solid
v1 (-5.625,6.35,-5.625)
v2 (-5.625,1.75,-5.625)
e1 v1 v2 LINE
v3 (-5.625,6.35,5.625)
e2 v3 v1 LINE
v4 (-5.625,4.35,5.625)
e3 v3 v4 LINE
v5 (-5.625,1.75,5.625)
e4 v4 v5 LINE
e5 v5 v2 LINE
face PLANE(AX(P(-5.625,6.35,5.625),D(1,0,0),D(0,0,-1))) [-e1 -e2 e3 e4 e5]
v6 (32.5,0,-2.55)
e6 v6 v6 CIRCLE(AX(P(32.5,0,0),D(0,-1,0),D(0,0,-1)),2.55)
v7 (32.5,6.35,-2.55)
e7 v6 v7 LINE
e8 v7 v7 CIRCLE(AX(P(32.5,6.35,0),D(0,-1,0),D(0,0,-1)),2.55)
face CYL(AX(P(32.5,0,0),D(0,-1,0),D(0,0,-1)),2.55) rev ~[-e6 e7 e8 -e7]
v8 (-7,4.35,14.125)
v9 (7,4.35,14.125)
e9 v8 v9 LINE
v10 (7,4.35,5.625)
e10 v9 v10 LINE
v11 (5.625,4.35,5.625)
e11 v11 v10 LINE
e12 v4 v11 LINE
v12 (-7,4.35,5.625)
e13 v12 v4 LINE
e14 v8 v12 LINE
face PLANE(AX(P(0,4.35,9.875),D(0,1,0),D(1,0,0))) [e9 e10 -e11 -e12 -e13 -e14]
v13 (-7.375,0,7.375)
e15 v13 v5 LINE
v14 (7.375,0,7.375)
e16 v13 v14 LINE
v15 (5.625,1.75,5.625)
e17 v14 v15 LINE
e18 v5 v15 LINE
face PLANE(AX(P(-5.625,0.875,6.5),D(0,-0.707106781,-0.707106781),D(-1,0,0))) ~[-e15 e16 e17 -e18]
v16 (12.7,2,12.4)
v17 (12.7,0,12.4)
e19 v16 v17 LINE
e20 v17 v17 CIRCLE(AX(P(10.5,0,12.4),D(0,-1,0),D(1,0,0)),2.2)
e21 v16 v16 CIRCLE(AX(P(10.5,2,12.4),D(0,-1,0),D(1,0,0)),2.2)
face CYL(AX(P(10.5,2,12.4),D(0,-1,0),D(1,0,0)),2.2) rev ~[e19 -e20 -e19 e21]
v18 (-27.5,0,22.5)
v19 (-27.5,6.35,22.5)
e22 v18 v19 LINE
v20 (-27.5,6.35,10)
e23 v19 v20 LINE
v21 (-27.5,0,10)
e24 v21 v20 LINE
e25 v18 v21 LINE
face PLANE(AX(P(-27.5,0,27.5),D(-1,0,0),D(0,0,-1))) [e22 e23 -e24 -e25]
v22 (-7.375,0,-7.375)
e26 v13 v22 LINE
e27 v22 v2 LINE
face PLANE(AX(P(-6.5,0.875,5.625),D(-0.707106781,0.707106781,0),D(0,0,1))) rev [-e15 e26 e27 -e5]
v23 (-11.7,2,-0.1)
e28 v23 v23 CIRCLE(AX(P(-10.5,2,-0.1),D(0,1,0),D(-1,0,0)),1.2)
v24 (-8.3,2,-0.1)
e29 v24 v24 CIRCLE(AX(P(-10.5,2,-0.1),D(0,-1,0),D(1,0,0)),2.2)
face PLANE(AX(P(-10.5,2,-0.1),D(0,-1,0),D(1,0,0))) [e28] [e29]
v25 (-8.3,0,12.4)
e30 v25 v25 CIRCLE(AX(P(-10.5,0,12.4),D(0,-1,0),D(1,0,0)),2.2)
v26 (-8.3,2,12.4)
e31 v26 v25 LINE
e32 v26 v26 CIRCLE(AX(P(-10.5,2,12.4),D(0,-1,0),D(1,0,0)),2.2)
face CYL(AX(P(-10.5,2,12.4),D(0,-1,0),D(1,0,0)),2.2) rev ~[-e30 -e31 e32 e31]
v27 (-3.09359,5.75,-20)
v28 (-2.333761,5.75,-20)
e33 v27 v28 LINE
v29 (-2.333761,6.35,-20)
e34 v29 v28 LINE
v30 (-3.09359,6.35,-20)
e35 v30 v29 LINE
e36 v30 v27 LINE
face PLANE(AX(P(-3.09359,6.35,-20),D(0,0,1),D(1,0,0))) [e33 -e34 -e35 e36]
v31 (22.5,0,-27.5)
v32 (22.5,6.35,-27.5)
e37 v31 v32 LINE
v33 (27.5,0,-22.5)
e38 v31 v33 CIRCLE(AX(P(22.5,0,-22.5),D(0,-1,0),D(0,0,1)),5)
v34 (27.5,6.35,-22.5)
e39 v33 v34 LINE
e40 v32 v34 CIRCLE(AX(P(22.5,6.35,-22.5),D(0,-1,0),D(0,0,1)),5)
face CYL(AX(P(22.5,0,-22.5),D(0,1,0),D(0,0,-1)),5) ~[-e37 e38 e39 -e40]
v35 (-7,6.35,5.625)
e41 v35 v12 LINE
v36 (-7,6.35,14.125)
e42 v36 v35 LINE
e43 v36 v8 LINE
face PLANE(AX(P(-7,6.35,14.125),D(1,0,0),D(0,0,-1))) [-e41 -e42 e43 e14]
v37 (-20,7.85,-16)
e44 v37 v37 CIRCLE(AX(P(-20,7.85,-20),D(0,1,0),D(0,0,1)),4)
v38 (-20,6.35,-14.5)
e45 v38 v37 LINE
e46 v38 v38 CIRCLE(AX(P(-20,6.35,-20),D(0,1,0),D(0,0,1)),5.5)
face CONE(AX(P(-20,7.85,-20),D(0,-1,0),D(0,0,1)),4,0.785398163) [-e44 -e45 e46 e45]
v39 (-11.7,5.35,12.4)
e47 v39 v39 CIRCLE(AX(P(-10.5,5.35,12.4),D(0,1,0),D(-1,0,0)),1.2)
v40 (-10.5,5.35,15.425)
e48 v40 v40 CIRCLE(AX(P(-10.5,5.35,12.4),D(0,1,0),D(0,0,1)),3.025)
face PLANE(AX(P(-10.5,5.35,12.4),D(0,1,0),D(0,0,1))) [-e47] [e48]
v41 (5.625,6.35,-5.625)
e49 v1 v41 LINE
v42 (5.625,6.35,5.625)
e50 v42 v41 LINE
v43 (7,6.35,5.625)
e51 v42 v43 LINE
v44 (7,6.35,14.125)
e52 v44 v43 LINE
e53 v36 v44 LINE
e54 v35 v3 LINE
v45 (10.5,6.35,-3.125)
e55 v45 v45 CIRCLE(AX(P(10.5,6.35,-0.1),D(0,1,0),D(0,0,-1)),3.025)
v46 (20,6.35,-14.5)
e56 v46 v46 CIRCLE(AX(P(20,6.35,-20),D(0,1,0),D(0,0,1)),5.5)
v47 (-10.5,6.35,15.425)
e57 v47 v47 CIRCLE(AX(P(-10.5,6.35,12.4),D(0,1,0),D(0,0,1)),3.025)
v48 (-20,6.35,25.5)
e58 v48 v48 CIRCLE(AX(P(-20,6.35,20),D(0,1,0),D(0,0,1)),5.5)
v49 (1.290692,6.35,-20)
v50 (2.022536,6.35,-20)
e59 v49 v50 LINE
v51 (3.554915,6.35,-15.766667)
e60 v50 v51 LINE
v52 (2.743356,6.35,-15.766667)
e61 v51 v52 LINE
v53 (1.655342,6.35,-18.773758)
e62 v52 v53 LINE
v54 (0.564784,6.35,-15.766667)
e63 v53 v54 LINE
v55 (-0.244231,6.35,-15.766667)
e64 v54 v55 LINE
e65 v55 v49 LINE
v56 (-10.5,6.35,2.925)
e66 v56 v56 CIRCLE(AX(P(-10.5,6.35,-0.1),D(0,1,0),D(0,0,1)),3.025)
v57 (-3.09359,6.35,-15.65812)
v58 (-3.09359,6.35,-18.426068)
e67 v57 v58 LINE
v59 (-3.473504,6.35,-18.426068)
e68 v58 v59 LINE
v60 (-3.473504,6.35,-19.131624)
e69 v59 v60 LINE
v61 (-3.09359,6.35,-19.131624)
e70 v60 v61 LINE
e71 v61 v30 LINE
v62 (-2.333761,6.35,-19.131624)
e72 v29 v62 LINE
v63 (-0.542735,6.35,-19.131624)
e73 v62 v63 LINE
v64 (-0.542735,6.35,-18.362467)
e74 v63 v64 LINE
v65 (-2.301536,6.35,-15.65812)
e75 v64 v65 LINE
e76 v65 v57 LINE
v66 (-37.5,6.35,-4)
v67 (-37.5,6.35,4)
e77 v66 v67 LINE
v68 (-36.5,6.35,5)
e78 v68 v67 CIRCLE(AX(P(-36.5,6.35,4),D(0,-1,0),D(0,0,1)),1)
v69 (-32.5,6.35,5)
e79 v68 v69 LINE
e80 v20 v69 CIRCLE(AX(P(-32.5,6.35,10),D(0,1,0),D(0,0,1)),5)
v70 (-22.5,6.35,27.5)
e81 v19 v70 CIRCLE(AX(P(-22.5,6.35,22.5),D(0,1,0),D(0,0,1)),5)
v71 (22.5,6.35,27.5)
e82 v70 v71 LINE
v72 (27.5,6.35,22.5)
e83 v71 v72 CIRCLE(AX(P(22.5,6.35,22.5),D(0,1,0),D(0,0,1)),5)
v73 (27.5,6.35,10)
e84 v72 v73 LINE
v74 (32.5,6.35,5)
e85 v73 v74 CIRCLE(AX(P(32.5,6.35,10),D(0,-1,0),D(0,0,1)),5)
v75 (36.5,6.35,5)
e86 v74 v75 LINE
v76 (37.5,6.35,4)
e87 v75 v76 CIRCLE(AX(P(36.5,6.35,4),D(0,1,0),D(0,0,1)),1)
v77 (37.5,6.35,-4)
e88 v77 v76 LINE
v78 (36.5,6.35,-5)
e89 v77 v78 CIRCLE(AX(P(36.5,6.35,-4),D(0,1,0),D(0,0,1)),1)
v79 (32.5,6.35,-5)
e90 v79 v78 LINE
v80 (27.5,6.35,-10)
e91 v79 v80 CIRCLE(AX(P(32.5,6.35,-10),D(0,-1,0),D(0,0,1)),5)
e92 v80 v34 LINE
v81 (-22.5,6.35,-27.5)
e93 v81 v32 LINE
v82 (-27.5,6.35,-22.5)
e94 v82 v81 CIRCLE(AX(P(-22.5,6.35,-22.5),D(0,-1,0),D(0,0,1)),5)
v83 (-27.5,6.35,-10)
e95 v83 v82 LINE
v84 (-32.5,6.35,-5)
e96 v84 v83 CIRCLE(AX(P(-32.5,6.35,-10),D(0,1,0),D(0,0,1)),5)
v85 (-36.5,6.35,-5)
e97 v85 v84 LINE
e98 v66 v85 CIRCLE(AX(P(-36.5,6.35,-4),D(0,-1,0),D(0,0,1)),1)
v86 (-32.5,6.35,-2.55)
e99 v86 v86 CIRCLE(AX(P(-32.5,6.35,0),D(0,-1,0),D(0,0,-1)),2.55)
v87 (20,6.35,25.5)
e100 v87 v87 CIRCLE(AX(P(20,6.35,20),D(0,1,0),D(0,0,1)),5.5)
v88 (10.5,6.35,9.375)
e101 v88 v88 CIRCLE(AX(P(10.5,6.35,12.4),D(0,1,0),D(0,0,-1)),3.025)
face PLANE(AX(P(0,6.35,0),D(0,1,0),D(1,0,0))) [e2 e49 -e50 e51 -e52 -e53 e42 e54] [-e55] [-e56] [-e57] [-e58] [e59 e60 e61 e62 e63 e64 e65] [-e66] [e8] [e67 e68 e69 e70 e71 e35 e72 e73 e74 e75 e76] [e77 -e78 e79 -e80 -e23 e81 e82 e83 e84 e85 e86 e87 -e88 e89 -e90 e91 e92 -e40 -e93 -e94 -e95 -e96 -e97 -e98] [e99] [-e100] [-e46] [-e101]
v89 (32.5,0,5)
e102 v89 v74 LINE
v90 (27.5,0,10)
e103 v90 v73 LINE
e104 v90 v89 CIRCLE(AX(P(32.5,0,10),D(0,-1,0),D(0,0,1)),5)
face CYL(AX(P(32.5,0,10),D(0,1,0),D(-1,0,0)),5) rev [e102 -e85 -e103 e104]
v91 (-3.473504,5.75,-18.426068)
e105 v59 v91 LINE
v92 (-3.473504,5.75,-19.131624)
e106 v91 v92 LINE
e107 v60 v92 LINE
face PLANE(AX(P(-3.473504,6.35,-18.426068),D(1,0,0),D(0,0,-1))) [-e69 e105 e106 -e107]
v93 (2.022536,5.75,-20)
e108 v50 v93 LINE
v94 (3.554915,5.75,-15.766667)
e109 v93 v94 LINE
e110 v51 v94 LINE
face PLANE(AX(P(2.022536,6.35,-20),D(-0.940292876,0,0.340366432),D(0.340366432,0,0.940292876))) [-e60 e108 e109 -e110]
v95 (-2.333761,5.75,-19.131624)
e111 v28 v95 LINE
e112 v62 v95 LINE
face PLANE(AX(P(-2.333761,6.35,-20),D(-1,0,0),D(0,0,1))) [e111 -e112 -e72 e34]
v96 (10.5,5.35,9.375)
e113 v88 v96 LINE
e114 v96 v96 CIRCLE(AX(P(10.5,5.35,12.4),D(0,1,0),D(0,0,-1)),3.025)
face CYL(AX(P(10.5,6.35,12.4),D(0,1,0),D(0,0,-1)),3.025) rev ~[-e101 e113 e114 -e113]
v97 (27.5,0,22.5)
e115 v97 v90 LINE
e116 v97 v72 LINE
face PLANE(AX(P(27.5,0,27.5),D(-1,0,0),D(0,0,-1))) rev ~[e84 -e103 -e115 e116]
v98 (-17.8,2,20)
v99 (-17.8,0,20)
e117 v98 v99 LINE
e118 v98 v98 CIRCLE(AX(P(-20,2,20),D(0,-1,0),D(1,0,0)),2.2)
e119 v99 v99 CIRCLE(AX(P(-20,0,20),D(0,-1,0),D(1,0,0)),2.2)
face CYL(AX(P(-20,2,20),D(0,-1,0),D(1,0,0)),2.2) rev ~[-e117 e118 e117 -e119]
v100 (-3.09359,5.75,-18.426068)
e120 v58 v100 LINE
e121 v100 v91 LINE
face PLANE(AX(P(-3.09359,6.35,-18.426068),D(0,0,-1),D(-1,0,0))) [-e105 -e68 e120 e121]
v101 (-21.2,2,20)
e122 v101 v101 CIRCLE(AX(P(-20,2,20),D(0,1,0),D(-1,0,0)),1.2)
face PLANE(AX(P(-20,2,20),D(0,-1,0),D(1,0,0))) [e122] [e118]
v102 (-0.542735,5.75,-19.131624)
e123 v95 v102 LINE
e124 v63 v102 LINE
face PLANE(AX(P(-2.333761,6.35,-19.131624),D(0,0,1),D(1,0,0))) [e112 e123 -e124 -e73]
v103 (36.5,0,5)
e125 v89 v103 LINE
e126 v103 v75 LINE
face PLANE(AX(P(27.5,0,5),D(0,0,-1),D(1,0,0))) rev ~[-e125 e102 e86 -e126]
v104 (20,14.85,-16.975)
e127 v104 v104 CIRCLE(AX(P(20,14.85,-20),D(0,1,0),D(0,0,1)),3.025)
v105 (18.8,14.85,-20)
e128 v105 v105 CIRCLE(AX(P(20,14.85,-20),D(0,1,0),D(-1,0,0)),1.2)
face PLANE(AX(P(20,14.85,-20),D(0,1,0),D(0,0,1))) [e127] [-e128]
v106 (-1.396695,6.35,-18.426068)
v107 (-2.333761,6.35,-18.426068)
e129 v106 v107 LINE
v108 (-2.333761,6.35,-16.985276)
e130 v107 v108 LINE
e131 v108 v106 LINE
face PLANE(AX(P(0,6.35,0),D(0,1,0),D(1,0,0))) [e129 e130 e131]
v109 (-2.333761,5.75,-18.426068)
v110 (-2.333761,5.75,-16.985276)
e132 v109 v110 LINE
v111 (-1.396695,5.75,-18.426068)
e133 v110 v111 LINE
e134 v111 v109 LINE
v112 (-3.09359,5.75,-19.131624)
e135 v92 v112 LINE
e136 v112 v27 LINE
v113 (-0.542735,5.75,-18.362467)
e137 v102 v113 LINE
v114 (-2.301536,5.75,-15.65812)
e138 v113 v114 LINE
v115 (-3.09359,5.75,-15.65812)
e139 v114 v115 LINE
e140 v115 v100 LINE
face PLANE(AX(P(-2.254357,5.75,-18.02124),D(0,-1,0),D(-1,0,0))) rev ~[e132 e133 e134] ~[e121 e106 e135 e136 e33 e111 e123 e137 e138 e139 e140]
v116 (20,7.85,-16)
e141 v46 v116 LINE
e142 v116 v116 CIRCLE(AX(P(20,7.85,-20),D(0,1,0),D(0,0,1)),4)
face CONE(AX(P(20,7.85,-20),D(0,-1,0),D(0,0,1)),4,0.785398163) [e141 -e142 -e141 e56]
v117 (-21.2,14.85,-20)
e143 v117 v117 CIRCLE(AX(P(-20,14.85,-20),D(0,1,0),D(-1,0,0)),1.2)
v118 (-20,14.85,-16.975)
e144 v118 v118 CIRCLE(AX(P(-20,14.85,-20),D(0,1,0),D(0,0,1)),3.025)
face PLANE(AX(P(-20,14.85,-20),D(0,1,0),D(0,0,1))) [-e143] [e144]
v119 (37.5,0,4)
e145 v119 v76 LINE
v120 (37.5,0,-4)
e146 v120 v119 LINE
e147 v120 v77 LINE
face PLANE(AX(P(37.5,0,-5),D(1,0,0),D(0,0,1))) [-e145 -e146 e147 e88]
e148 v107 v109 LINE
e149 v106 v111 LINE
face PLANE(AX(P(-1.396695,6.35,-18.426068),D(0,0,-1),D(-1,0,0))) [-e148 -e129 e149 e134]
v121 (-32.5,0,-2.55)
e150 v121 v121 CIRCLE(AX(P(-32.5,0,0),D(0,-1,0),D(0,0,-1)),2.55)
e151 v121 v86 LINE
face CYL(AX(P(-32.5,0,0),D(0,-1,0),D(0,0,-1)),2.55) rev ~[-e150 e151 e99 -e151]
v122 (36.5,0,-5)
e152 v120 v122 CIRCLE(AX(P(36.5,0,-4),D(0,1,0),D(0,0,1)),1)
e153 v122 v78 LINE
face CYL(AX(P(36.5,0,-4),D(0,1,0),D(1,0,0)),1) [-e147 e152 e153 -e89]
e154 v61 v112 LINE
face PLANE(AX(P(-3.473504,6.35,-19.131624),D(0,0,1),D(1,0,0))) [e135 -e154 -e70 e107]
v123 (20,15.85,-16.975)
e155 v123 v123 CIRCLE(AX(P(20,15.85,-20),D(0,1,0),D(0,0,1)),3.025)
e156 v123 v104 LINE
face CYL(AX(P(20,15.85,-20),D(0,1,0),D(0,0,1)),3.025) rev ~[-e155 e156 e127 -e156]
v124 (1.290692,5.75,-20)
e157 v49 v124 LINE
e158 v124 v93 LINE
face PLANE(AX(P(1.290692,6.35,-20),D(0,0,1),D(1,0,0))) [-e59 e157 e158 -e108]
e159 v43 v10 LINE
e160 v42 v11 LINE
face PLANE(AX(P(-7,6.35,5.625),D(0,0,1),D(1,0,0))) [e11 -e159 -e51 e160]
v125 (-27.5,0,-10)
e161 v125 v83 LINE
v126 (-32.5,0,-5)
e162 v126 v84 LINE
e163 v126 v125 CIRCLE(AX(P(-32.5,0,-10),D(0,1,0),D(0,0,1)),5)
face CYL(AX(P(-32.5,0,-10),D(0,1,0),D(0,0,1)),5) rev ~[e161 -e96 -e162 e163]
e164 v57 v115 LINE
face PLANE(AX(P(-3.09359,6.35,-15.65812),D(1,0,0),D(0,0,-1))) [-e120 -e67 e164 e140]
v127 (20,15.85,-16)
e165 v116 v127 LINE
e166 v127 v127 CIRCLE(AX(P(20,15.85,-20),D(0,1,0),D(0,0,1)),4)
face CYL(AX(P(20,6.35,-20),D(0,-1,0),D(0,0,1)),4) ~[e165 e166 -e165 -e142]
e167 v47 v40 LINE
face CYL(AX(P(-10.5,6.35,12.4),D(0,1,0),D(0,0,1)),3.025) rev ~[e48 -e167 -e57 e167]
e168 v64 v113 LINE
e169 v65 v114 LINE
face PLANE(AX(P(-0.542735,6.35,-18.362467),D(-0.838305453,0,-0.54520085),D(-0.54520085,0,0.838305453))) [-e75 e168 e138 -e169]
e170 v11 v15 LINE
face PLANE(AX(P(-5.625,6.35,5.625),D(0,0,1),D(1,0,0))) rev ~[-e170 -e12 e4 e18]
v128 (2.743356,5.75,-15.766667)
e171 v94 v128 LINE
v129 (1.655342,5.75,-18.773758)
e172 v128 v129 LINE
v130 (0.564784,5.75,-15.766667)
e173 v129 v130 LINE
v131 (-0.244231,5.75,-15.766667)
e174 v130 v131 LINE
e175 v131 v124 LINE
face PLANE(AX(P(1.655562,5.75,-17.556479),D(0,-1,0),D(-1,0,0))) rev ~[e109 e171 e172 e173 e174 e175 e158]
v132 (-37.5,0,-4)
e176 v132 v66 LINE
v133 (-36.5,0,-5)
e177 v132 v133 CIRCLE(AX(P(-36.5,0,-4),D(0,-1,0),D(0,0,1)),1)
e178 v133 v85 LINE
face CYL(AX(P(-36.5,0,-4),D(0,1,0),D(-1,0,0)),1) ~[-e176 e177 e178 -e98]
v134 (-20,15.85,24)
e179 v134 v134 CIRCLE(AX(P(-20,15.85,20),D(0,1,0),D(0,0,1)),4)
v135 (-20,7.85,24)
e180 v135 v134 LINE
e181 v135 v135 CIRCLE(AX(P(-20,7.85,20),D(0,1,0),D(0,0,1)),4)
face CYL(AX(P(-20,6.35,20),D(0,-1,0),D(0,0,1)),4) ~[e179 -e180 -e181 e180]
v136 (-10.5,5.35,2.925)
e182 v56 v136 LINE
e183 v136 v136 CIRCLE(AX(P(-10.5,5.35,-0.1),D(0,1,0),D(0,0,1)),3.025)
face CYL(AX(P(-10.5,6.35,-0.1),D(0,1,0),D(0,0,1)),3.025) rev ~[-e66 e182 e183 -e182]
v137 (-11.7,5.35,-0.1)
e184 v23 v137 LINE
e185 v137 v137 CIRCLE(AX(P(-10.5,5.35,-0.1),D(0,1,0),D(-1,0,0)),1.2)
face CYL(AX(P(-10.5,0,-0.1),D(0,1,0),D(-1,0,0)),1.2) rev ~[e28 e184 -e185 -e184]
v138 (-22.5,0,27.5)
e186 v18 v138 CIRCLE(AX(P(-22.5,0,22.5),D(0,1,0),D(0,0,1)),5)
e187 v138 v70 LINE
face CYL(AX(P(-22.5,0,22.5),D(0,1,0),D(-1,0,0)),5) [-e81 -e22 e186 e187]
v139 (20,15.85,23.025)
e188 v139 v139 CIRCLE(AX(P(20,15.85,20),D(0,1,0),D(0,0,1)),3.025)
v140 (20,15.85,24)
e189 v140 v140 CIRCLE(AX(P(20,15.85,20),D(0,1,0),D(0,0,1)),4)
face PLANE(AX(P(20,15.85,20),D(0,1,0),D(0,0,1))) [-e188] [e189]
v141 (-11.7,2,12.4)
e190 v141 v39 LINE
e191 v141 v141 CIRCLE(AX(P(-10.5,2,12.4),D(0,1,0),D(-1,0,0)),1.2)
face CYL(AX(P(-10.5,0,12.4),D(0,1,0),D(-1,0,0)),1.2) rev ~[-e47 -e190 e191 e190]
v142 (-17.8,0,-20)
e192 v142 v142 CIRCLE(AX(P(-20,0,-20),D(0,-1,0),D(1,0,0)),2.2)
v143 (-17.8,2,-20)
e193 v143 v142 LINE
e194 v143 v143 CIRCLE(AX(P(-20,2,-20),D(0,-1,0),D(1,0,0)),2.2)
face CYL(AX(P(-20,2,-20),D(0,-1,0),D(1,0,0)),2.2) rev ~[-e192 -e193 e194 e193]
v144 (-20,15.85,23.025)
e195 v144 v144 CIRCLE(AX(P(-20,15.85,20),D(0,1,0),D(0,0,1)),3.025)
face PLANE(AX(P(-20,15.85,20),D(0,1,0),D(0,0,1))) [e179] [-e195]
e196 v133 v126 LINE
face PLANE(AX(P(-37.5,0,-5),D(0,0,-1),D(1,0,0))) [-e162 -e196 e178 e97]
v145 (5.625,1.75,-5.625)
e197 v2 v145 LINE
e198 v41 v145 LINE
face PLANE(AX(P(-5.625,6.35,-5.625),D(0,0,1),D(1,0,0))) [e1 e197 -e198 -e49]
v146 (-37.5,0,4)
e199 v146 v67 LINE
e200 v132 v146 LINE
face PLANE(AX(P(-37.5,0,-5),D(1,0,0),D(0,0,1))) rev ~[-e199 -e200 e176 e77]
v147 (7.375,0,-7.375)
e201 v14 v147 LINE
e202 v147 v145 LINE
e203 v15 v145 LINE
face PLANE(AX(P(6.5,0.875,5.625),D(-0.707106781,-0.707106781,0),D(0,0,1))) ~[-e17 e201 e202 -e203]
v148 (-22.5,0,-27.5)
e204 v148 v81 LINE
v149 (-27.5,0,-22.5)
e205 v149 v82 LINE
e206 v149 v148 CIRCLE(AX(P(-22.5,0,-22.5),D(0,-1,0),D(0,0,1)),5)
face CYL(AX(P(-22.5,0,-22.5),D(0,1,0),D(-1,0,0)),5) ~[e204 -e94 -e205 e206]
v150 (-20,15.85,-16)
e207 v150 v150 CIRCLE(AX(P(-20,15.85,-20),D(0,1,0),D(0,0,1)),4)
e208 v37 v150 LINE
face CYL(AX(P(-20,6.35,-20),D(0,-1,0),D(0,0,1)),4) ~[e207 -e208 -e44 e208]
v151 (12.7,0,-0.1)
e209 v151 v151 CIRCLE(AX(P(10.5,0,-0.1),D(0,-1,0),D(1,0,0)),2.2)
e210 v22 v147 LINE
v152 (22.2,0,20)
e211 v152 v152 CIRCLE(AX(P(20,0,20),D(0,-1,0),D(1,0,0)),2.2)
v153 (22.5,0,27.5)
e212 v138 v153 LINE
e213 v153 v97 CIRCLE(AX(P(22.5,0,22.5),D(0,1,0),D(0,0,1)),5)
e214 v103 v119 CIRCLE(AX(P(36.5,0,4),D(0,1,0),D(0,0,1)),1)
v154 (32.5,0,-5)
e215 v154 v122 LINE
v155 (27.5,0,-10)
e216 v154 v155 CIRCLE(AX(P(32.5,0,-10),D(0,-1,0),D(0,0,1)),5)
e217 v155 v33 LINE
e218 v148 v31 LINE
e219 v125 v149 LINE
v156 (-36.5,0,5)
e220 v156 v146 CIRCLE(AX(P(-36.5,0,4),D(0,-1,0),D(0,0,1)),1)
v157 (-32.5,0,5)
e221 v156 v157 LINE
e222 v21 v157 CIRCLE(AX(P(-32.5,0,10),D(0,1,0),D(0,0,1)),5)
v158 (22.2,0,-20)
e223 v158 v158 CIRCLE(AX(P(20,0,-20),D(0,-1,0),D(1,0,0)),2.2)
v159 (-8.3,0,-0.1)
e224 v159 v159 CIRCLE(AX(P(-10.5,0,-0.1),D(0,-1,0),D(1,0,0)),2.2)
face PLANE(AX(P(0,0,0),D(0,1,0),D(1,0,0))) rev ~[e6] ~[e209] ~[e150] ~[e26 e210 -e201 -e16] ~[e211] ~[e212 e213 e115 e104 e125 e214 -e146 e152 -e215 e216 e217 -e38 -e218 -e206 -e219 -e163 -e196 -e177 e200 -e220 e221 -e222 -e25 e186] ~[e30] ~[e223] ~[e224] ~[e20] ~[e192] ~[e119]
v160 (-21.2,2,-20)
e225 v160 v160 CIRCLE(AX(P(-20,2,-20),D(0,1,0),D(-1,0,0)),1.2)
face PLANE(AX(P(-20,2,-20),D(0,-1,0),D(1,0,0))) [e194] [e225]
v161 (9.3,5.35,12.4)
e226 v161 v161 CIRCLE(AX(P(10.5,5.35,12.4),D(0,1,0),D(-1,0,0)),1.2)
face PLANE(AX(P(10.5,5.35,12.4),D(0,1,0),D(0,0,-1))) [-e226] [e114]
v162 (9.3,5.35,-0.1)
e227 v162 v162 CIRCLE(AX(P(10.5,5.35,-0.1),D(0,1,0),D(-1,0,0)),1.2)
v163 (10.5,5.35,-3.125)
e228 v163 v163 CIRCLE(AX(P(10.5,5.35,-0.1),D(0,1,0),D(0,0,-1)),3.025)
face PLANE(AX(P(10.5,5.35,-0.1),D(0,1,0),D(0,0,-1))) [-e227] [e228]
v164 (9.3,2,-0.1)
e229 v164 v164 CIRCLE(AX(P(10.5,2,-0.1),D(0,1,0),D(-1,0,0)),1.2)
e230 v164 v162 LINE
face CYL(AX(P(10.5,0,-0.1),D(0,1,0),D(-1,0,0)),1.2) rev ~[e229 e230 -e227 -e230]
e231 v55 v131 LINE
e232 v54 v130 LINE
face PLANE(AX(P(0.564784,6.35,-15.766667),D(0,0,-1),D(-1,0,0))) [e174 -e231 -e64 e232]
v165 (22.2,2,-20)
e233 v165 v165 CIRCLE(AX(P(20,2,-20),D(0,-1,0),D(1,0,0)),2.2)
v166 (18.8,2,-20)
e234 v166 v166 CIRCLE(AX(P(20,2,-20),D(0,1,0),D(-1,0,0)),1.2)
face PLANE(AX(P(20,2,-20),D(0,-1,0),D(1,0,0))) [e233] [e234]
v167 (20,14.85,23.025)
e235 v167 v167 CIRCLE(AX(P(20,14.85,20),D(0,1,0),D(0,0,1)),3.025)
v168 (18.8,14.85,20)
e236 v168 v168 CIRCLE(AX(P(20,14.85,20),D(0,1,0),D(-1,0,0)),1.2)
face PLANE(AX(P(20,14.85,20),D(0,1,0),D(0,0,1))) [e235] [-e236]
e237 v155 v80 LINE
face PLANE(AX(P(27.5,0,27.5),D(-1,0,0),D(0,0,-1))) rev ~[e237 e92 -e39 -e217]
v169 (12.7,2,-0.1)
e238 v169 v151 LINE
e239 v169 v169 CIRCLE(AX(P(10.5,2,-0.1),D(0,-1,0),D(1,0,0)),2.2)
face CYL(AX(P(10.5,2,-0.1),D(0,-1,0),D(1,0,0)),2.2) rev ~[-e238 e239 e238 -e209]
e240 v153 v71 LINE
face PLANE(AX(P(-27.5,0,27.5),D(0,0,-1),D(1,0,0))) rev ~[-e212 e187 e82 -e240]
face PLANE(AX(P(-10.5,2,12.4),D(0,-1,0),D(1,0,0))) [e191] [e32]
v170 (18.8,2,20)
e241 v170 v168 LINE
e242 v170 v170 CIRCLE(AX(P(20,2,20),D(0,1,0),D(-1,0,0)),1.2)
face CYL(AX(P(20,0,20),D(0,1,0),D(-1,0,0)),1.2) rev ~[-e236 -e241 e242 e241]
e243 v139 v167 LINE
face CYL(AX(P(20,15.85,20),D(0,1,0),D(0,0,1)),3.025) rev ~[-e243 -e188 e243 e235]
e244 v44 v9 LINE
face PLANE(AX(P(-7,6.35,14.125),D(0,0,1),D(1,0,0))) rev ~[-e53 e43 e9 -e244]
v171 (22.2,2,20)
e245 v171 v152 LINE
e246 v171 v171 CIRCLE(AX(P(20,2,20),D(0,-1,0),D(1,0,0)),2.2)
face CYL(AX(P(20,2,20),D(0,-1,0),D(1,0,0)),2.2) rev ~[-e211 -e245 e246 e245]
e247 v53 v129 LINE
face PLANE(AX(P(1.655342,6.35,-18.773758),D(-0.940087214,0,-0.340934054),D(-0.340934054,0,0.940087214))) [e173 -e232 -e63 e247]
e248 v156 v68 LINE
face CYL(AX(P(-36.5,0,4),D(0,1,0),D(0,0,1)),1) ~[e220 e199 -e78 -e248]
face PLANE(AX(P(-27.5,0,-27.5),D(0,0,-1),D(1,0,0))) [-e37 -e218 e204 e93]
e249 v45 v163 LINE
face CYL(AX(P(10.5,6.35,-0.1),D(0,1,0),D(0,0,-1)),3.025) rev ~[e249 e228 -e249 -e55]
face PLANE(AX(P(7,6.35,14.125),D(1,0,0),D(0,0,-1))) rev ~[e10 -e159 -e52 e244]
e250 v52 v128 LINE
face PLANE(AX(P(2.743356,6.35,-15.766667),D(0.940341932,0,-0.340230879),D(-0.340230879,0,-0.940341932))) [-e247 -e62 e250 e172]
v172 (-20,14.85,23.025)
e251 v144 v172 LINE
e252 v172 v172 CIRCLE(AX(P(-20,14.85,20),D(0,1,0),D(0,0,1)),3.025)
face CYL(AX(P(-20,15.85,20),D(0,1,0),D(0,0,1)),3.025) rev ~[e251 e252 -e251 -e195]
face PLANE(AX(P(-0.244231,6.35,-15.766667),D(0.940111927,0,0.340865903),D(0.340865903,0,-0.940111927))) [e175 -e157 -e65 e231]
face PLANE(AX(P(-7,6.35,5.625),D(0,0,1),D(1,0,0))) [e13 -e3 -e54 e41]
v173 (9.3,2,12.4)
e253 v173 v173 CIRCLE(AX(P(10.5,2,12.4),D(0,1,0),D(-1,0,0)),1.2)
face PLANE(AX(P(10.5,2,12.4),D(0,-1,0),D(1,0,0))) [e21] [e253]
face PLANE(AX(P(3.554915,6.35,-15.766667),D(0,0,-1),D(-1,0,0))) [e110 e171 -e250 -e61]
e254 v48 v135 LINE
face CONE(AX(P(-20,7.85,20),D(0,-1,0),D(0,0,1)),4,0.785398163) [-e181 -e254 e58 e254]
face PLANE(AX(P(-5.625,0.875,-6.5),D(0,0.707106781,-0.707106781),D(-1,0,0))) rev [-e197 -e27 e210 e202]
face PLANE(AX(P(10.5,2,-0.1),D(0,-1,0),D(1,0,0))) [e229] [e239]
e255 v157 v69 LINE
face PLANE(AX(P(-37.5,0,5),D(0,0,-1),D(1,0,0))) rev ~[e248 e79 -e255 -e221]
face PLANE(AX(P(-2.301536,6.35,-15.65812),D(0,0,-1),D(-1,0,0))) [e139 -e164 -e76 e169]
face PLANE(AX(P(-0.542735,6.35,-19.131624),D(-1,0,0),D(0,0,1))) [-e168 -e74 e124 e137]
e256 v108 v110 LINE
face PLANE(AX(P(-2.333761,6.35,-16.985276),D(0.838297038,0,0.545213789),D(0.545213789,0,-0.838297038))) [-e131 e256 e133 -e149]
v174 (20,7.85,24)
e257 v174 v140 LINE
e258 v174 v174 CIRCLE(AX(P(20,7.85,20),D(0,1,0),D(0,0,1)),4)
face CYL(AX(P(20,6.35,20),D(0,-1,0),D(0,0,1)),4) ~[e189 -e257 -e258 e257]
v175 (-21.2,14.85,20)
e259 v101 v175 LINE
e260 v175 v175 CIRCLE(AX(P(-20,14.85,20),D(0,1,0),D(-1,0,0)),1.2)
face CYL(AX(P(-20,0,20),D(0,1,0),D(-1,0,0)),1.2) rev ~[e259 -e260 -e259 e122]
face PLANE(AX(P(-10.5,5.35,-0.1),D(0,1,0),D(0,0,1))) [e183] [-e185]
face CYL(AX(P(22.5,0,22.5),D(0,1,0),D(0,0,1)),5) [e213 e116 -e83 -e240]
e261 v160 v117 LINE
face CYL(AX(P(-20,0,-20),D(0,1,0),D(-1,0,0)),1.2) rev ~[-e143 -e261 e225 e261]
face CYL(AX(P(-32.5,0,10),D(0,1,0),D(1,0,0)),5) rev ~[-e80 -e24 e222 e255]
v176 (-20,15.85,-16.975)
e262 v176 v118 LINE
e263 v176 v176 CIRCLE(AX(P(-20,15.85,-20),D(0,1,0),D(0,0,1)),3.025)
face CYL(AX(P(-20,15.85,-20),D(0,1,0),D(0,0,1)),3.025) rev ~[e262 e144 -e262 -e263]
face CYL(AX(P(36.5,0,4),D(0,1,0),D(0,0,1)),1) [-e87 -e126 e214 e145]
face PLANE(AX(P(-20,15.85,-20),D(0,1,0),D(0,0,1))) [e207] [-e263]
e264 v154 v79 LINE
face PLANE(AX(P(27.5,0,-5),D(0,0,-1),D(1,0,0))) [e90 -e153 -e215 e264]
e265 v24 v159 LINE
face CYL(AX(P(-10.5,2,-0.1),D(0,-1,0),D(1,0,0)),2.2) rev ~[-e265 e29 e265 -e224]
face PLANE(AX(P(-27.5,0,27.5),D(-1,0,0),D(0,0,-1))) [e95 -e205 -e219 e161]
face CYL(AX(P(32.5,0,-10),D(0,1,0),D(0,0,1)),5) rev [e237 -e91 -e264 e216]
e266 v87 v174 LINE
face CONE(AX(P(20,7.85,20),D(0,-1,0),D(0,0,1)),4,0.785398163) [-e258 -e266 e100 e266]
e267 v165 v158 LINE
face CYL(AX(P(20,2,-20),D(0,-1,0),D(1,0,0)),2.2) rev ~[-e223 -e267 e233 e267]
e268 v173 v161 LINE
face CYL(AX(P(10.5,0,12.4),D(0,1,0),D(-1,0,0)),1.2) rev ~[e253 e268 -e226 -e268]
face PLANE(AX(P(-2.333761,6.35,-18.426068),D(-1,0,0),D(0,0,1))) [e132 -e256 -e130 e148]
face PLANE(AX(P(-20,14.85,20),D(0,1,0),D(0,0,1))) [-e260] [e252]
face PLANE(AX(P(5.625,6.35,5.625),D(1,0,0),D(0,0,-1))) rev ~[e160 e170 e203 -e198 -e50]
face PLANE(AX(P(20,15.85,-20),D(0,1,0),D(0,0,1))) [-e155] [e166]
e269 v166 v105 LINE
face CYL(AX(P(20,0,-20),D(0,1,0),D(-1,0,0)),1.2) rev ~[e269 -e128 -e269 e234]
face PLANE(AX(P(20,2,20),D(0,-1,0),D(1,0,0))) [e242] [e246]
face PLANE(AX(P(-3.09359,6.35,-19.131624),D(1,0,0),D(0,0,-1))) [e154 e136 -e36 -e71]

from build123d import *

# Parameters (mm, degrees)
SKETCH1_W                      = 55
SKETCH1_H                      = 55
BOSS_EXTRUDE1_DEPTH            = 6.35
SKETCH2_W                      = 11.25
SKETCH2_H                      = 11.25
CUT_EXTRUDE1_DEPTH             = 40.405868852
SKETCH3_W                      = 14
SKETCH3_H                      = 8.5
CUT_EXTRUDE2_DEPTH             = 2
CBORE_FOR_M2_SHCS2_D           = 2.4
CBORE_FOR_M2_SHCS2_CBORE_D     = 4.4
CBORE_FOR_M2_SHCS2_CBORE_DEPTH = 2
SKETCH6_R                      = 4
BOSS_EXTRUDE2_DEPTH            = 9.5
CBORE_FOR_M2_SHCS1_D           = 2.4
CBORE_FOR_M2_SHCS1_CBORE_D     = 4.4
CBORE_FOR_M2_SHCS1_CBORE_DEPTH = 2
SKETCH13_R                     = 3.025
CUT_EXTRUDE4_DEPTH             = 1
CHAMFER1_SIZE                  = 1.75
SKETCH16_W                     = 10
SKETCH16_H                     = 10
BOSS_EXTRUDE3_DEPTH            = 6.35
SKETCH17_R                     = 2.55
CUT_EXTRUDE6_DEPTH             = 50.129649907
FILLET1_R                      = 5
FILLET2_R                      = 1
SKETCH18_R                     = 3.025
CUT_EXTRUDE7_DEPTH             = 1
CUT_EXTRUDE8_DEPTH             = 0.6
CHAMFER2_SIZE                  = 1.5


with BuildPart() as part:
    # Sketch1 → Boss-Extrude1 (new body)
    with BuildSketch(Plane(origin=(0, 0, 0), x_dir=(1, 0, 0), z_dir=(0, 1, 0))):
        Rectangle(SKETCH1_W, SKETCH1_H)
    extrude(amount=BOSS_EXTRUDE1_DEPTH)

    # Sketch2 → Cut-Extrude1 (cut, through all)
    with BuildSketch(Plane(origin=(0, 6.35, 0), x_dir=(1, 0, 0), z_dir=(0, 1, 0))):
        Rectangle(SKETCH2_W, SKETCH2_H)
    extrude(amount=-CUT_EXTRUDE1_DEPTH, mode=Mode.SUBTRACT)

    # Sketch3 → Cut-Extrude2 (cut)
    with BuildSketch(Plane(origin=(0, 6.35, 0), x_dir=(1, 0, 0), z_dir=(0, 1, 0))):
        with Locations((0, -9.875)):
            Rectangle(SKETCH3_W, SKETCH3_H)
    extrude(amount=-CUT_EXTRUDE2_DEPTH, mode=Mode.SUBTRACT)

    # CBORE for M2 SHCS2 (through all)
    with Locations(Plane.XZ):
        with Locations((10.5, -0.1), (10.5, 12.4), (-10.5, 12.4), (-10.5, -0.1)):
            CounterBoreHole(CBORE_FOR_M2_SHCS2_D / 2, CBORE_FOR_M2_SHCS2_CBORE_D / 2, CBORE_FOR_M2_SHCS2_CBORE_DEPTH)

    # Sketch6 → Boss-Extrude2 (add)
    with BuildSketch(Plane(origin=(0, 6.35, 0), x_dir=(1, 0, 0), z_dir=(0, 1, 0))):
        with Locations(Location((-20, 20, 0), (0, 0, 270))):
            Circle(SKETCH6_R)
        with Locations(Location((20, 20, 0), (0, 0, 270))):
            Circle(SKETCH6_R)
        with Locations(Location((20, -20, 0), (0, 0, 270))):
            Circle(SKETCH6_R)
        with Locations(Location((-20, -20, 0), (0, 0, 270))):
            Circle(SKETCH6_R)
    extrude(amount=BOSS_EXTRUDE2_DEPTH)

    # CBORE for M2 SHCS1 (through all)
    with Locations(Plane.XZ):
        with Locations((-20, -20), (-20, 20), (20, 20), (20, -20)):
            CounterBoreHole(CBORE_FOR_M2_SHCS1_D / 2, CBORE_FOR_M2_SHCS1_CBORE_D / 2, CBORE_FOR_M2_SHCS1_CBORE_DEPTH)

    # Sketch13 → Cut-Extrude4 (cut)
    with BuildSketch(Plane(origin=(0, 6.35, 0), x_dir=(1, 0, 0), z_dir=(0, 1, 0))):
        with Locations(Location((-10.5, -12.4, 0), (0, 0, 270))):
            Circle(SKETCH13_R)
        with Locations(Location((-10.5, 0.1, 0), (0, 0, 270))):
            Circle(SKETCH13_R)
        with Locations(Location((10.5, -12.4, 0), (0, 0, 90))):
            Circle(SKETCH13_R)
        with Locations(Location((10.5, 0.1, 0), (0, 0, 90))):
            Circle(SKETCH13_R)
    extrude(amount=-CUT_EXTRUDE4_DEPTH, mode=Mode.SUBTRACT)

    # Chamfer1
    chamfer1_edges = [part.edges().sort_by_distance(p)[0] for p in [
        (5.625, 0, 0),
        (0, 0, 5.625),
        (-5.625, 0, 0),
        (0, 0, -5.625),
    ]]
    chamfer(chamfer1_edges, length=CHAMFER1_SIZE)

    # Sketch16 → Boss-Extrude3 (add)
    with BuildSketch(Plane.XZ):
        with Locations((32.5, 0)):
            Rectangle(SKETCH16_W, SKETCH16_H)
        with Locations((-32.5, 0)):
            Rectangle(SKETCH16_W, SKETCH16_H)
    extrude(amount=-BOSS_EXTRUDE3_DEPTH)

    # Sketch17 → Cut-Extrude6 (cut, through all)
    with BuildSketch(Plane.XZ):
        with Locations(Location((32.5, 0, 0), (0, 0, 270))):
            Circle(SKETCH17_R)
        with Locations(Location((-32.5, 0, 0), (0, 0, 270))):
            Circle(SKETCH17_R)
    extrude(amount=-CUT_EXTRUDE6_DEPTH, mode=Mode.SUBTRACT)

    # Fillet1
    fillet1_edges = [part.edges().sort_by_distance(p)[0] for p in [
        (27.5, 3.175, 5),
        (27.5, 3.175, -5),
        (-27.5, 3.175, -5),
        (-27.5, 3.175, 5),
        (27.5, 3.175, 27.5),
        (-27.5, 3.175, 27.5),
        (-27.5, 3.175, -27.5),
        (27.5, 3.175, -27.5),
    ]]
    fillet(fillet1_edges, radius=FILLET1_R)

    # Fillet2
    fillet2_edges = [part.edges().sort_by_distance(p)[0] for p in [
        (37.5, 3.175, -5),
        (37.5, 3.175, 5),
        (-37.5, 3.175, 5),
        (-37.5, 3.175, -5),
    ]]
    fillet(fillet2_edges, radius=FILLET2_R)

    # Sketch18 → Cut-Extrude7 (cut)
    with BuildSketch(Plane(origin=(0, 15.85, 0), x_dir=(1, 0, 0), z_dir=(0, 1, 0))):
        with Locations(Location((-20, 20, 0), (0, 0, 270))):
            Circle(SKETCH18_R)
        with Locations(Location((-20, -20, 0), (0, 0, 270))):
            Circle(SKETCH18_R)
        with Locations(Location((20, 20, 0), (0, 0, 270))):
            Circle(SKETCH18_R)
        with Locations(Location((20, -20, 0), (0, 0, 270))):
            Circle(SKETCH18_R)
    extrude(amount=-CUT_EXTRUDE7_DEPTH, mode=Mode.SUBTRACT)

    # Sketch19 → Cut-Extrude8 (cut)
    with BuildSketch(Plane(origin=(0, 6.35, 0), x_dir=(1, 0, 0), z_dir=(0, 1, 0))):
        Polygon((-2.301535791, 15.658119658), (-3.093589744, 15.658119658), (-3.093589744, 18.426068376), (-3.473504274, 18.426068376), (-3.473504274, 19.131623932), (-3.093589744, 19.131623932), (-3.093589744, 20), (-2.333760684, 20), (-2.333760684, 19.131623932), (-0.542735043, 19.131623932), (-0.542735043, 18.362466613), align=None)
        Polygon((-2.333760684, 18.426068376), (-2.333760684, 16.985276442), (-1.396694712, 18.426068376), align=None, mode=Mode.SUBTRACT)
        Polygon((3.55491453, 15.766666667), (2.743356036, 15.766666667), (1.65534188, 18.773758013), (0.564783654, 15.766666667), (-0.244230769, 15.766666667), (1.290691774, 20), (2.022536058, 20), align=None)
    extrude(amount=-CUT_EXTRUDE8_DEPTH, mode=Mode.SUBTRACT)

    # Chamfer2
    chamfer2_edges = [part.edges().sort_by_distance(p)[0] for p in [
        (-20, 6.35, -24),
        (20, 6.35, -24),
        (20, 6.35, 16),
        (-20, 6.35, 16),
    ]]
    chamfer(chamfer2_edges, length=CHAMFER2_SIZE)


solid = part.part
